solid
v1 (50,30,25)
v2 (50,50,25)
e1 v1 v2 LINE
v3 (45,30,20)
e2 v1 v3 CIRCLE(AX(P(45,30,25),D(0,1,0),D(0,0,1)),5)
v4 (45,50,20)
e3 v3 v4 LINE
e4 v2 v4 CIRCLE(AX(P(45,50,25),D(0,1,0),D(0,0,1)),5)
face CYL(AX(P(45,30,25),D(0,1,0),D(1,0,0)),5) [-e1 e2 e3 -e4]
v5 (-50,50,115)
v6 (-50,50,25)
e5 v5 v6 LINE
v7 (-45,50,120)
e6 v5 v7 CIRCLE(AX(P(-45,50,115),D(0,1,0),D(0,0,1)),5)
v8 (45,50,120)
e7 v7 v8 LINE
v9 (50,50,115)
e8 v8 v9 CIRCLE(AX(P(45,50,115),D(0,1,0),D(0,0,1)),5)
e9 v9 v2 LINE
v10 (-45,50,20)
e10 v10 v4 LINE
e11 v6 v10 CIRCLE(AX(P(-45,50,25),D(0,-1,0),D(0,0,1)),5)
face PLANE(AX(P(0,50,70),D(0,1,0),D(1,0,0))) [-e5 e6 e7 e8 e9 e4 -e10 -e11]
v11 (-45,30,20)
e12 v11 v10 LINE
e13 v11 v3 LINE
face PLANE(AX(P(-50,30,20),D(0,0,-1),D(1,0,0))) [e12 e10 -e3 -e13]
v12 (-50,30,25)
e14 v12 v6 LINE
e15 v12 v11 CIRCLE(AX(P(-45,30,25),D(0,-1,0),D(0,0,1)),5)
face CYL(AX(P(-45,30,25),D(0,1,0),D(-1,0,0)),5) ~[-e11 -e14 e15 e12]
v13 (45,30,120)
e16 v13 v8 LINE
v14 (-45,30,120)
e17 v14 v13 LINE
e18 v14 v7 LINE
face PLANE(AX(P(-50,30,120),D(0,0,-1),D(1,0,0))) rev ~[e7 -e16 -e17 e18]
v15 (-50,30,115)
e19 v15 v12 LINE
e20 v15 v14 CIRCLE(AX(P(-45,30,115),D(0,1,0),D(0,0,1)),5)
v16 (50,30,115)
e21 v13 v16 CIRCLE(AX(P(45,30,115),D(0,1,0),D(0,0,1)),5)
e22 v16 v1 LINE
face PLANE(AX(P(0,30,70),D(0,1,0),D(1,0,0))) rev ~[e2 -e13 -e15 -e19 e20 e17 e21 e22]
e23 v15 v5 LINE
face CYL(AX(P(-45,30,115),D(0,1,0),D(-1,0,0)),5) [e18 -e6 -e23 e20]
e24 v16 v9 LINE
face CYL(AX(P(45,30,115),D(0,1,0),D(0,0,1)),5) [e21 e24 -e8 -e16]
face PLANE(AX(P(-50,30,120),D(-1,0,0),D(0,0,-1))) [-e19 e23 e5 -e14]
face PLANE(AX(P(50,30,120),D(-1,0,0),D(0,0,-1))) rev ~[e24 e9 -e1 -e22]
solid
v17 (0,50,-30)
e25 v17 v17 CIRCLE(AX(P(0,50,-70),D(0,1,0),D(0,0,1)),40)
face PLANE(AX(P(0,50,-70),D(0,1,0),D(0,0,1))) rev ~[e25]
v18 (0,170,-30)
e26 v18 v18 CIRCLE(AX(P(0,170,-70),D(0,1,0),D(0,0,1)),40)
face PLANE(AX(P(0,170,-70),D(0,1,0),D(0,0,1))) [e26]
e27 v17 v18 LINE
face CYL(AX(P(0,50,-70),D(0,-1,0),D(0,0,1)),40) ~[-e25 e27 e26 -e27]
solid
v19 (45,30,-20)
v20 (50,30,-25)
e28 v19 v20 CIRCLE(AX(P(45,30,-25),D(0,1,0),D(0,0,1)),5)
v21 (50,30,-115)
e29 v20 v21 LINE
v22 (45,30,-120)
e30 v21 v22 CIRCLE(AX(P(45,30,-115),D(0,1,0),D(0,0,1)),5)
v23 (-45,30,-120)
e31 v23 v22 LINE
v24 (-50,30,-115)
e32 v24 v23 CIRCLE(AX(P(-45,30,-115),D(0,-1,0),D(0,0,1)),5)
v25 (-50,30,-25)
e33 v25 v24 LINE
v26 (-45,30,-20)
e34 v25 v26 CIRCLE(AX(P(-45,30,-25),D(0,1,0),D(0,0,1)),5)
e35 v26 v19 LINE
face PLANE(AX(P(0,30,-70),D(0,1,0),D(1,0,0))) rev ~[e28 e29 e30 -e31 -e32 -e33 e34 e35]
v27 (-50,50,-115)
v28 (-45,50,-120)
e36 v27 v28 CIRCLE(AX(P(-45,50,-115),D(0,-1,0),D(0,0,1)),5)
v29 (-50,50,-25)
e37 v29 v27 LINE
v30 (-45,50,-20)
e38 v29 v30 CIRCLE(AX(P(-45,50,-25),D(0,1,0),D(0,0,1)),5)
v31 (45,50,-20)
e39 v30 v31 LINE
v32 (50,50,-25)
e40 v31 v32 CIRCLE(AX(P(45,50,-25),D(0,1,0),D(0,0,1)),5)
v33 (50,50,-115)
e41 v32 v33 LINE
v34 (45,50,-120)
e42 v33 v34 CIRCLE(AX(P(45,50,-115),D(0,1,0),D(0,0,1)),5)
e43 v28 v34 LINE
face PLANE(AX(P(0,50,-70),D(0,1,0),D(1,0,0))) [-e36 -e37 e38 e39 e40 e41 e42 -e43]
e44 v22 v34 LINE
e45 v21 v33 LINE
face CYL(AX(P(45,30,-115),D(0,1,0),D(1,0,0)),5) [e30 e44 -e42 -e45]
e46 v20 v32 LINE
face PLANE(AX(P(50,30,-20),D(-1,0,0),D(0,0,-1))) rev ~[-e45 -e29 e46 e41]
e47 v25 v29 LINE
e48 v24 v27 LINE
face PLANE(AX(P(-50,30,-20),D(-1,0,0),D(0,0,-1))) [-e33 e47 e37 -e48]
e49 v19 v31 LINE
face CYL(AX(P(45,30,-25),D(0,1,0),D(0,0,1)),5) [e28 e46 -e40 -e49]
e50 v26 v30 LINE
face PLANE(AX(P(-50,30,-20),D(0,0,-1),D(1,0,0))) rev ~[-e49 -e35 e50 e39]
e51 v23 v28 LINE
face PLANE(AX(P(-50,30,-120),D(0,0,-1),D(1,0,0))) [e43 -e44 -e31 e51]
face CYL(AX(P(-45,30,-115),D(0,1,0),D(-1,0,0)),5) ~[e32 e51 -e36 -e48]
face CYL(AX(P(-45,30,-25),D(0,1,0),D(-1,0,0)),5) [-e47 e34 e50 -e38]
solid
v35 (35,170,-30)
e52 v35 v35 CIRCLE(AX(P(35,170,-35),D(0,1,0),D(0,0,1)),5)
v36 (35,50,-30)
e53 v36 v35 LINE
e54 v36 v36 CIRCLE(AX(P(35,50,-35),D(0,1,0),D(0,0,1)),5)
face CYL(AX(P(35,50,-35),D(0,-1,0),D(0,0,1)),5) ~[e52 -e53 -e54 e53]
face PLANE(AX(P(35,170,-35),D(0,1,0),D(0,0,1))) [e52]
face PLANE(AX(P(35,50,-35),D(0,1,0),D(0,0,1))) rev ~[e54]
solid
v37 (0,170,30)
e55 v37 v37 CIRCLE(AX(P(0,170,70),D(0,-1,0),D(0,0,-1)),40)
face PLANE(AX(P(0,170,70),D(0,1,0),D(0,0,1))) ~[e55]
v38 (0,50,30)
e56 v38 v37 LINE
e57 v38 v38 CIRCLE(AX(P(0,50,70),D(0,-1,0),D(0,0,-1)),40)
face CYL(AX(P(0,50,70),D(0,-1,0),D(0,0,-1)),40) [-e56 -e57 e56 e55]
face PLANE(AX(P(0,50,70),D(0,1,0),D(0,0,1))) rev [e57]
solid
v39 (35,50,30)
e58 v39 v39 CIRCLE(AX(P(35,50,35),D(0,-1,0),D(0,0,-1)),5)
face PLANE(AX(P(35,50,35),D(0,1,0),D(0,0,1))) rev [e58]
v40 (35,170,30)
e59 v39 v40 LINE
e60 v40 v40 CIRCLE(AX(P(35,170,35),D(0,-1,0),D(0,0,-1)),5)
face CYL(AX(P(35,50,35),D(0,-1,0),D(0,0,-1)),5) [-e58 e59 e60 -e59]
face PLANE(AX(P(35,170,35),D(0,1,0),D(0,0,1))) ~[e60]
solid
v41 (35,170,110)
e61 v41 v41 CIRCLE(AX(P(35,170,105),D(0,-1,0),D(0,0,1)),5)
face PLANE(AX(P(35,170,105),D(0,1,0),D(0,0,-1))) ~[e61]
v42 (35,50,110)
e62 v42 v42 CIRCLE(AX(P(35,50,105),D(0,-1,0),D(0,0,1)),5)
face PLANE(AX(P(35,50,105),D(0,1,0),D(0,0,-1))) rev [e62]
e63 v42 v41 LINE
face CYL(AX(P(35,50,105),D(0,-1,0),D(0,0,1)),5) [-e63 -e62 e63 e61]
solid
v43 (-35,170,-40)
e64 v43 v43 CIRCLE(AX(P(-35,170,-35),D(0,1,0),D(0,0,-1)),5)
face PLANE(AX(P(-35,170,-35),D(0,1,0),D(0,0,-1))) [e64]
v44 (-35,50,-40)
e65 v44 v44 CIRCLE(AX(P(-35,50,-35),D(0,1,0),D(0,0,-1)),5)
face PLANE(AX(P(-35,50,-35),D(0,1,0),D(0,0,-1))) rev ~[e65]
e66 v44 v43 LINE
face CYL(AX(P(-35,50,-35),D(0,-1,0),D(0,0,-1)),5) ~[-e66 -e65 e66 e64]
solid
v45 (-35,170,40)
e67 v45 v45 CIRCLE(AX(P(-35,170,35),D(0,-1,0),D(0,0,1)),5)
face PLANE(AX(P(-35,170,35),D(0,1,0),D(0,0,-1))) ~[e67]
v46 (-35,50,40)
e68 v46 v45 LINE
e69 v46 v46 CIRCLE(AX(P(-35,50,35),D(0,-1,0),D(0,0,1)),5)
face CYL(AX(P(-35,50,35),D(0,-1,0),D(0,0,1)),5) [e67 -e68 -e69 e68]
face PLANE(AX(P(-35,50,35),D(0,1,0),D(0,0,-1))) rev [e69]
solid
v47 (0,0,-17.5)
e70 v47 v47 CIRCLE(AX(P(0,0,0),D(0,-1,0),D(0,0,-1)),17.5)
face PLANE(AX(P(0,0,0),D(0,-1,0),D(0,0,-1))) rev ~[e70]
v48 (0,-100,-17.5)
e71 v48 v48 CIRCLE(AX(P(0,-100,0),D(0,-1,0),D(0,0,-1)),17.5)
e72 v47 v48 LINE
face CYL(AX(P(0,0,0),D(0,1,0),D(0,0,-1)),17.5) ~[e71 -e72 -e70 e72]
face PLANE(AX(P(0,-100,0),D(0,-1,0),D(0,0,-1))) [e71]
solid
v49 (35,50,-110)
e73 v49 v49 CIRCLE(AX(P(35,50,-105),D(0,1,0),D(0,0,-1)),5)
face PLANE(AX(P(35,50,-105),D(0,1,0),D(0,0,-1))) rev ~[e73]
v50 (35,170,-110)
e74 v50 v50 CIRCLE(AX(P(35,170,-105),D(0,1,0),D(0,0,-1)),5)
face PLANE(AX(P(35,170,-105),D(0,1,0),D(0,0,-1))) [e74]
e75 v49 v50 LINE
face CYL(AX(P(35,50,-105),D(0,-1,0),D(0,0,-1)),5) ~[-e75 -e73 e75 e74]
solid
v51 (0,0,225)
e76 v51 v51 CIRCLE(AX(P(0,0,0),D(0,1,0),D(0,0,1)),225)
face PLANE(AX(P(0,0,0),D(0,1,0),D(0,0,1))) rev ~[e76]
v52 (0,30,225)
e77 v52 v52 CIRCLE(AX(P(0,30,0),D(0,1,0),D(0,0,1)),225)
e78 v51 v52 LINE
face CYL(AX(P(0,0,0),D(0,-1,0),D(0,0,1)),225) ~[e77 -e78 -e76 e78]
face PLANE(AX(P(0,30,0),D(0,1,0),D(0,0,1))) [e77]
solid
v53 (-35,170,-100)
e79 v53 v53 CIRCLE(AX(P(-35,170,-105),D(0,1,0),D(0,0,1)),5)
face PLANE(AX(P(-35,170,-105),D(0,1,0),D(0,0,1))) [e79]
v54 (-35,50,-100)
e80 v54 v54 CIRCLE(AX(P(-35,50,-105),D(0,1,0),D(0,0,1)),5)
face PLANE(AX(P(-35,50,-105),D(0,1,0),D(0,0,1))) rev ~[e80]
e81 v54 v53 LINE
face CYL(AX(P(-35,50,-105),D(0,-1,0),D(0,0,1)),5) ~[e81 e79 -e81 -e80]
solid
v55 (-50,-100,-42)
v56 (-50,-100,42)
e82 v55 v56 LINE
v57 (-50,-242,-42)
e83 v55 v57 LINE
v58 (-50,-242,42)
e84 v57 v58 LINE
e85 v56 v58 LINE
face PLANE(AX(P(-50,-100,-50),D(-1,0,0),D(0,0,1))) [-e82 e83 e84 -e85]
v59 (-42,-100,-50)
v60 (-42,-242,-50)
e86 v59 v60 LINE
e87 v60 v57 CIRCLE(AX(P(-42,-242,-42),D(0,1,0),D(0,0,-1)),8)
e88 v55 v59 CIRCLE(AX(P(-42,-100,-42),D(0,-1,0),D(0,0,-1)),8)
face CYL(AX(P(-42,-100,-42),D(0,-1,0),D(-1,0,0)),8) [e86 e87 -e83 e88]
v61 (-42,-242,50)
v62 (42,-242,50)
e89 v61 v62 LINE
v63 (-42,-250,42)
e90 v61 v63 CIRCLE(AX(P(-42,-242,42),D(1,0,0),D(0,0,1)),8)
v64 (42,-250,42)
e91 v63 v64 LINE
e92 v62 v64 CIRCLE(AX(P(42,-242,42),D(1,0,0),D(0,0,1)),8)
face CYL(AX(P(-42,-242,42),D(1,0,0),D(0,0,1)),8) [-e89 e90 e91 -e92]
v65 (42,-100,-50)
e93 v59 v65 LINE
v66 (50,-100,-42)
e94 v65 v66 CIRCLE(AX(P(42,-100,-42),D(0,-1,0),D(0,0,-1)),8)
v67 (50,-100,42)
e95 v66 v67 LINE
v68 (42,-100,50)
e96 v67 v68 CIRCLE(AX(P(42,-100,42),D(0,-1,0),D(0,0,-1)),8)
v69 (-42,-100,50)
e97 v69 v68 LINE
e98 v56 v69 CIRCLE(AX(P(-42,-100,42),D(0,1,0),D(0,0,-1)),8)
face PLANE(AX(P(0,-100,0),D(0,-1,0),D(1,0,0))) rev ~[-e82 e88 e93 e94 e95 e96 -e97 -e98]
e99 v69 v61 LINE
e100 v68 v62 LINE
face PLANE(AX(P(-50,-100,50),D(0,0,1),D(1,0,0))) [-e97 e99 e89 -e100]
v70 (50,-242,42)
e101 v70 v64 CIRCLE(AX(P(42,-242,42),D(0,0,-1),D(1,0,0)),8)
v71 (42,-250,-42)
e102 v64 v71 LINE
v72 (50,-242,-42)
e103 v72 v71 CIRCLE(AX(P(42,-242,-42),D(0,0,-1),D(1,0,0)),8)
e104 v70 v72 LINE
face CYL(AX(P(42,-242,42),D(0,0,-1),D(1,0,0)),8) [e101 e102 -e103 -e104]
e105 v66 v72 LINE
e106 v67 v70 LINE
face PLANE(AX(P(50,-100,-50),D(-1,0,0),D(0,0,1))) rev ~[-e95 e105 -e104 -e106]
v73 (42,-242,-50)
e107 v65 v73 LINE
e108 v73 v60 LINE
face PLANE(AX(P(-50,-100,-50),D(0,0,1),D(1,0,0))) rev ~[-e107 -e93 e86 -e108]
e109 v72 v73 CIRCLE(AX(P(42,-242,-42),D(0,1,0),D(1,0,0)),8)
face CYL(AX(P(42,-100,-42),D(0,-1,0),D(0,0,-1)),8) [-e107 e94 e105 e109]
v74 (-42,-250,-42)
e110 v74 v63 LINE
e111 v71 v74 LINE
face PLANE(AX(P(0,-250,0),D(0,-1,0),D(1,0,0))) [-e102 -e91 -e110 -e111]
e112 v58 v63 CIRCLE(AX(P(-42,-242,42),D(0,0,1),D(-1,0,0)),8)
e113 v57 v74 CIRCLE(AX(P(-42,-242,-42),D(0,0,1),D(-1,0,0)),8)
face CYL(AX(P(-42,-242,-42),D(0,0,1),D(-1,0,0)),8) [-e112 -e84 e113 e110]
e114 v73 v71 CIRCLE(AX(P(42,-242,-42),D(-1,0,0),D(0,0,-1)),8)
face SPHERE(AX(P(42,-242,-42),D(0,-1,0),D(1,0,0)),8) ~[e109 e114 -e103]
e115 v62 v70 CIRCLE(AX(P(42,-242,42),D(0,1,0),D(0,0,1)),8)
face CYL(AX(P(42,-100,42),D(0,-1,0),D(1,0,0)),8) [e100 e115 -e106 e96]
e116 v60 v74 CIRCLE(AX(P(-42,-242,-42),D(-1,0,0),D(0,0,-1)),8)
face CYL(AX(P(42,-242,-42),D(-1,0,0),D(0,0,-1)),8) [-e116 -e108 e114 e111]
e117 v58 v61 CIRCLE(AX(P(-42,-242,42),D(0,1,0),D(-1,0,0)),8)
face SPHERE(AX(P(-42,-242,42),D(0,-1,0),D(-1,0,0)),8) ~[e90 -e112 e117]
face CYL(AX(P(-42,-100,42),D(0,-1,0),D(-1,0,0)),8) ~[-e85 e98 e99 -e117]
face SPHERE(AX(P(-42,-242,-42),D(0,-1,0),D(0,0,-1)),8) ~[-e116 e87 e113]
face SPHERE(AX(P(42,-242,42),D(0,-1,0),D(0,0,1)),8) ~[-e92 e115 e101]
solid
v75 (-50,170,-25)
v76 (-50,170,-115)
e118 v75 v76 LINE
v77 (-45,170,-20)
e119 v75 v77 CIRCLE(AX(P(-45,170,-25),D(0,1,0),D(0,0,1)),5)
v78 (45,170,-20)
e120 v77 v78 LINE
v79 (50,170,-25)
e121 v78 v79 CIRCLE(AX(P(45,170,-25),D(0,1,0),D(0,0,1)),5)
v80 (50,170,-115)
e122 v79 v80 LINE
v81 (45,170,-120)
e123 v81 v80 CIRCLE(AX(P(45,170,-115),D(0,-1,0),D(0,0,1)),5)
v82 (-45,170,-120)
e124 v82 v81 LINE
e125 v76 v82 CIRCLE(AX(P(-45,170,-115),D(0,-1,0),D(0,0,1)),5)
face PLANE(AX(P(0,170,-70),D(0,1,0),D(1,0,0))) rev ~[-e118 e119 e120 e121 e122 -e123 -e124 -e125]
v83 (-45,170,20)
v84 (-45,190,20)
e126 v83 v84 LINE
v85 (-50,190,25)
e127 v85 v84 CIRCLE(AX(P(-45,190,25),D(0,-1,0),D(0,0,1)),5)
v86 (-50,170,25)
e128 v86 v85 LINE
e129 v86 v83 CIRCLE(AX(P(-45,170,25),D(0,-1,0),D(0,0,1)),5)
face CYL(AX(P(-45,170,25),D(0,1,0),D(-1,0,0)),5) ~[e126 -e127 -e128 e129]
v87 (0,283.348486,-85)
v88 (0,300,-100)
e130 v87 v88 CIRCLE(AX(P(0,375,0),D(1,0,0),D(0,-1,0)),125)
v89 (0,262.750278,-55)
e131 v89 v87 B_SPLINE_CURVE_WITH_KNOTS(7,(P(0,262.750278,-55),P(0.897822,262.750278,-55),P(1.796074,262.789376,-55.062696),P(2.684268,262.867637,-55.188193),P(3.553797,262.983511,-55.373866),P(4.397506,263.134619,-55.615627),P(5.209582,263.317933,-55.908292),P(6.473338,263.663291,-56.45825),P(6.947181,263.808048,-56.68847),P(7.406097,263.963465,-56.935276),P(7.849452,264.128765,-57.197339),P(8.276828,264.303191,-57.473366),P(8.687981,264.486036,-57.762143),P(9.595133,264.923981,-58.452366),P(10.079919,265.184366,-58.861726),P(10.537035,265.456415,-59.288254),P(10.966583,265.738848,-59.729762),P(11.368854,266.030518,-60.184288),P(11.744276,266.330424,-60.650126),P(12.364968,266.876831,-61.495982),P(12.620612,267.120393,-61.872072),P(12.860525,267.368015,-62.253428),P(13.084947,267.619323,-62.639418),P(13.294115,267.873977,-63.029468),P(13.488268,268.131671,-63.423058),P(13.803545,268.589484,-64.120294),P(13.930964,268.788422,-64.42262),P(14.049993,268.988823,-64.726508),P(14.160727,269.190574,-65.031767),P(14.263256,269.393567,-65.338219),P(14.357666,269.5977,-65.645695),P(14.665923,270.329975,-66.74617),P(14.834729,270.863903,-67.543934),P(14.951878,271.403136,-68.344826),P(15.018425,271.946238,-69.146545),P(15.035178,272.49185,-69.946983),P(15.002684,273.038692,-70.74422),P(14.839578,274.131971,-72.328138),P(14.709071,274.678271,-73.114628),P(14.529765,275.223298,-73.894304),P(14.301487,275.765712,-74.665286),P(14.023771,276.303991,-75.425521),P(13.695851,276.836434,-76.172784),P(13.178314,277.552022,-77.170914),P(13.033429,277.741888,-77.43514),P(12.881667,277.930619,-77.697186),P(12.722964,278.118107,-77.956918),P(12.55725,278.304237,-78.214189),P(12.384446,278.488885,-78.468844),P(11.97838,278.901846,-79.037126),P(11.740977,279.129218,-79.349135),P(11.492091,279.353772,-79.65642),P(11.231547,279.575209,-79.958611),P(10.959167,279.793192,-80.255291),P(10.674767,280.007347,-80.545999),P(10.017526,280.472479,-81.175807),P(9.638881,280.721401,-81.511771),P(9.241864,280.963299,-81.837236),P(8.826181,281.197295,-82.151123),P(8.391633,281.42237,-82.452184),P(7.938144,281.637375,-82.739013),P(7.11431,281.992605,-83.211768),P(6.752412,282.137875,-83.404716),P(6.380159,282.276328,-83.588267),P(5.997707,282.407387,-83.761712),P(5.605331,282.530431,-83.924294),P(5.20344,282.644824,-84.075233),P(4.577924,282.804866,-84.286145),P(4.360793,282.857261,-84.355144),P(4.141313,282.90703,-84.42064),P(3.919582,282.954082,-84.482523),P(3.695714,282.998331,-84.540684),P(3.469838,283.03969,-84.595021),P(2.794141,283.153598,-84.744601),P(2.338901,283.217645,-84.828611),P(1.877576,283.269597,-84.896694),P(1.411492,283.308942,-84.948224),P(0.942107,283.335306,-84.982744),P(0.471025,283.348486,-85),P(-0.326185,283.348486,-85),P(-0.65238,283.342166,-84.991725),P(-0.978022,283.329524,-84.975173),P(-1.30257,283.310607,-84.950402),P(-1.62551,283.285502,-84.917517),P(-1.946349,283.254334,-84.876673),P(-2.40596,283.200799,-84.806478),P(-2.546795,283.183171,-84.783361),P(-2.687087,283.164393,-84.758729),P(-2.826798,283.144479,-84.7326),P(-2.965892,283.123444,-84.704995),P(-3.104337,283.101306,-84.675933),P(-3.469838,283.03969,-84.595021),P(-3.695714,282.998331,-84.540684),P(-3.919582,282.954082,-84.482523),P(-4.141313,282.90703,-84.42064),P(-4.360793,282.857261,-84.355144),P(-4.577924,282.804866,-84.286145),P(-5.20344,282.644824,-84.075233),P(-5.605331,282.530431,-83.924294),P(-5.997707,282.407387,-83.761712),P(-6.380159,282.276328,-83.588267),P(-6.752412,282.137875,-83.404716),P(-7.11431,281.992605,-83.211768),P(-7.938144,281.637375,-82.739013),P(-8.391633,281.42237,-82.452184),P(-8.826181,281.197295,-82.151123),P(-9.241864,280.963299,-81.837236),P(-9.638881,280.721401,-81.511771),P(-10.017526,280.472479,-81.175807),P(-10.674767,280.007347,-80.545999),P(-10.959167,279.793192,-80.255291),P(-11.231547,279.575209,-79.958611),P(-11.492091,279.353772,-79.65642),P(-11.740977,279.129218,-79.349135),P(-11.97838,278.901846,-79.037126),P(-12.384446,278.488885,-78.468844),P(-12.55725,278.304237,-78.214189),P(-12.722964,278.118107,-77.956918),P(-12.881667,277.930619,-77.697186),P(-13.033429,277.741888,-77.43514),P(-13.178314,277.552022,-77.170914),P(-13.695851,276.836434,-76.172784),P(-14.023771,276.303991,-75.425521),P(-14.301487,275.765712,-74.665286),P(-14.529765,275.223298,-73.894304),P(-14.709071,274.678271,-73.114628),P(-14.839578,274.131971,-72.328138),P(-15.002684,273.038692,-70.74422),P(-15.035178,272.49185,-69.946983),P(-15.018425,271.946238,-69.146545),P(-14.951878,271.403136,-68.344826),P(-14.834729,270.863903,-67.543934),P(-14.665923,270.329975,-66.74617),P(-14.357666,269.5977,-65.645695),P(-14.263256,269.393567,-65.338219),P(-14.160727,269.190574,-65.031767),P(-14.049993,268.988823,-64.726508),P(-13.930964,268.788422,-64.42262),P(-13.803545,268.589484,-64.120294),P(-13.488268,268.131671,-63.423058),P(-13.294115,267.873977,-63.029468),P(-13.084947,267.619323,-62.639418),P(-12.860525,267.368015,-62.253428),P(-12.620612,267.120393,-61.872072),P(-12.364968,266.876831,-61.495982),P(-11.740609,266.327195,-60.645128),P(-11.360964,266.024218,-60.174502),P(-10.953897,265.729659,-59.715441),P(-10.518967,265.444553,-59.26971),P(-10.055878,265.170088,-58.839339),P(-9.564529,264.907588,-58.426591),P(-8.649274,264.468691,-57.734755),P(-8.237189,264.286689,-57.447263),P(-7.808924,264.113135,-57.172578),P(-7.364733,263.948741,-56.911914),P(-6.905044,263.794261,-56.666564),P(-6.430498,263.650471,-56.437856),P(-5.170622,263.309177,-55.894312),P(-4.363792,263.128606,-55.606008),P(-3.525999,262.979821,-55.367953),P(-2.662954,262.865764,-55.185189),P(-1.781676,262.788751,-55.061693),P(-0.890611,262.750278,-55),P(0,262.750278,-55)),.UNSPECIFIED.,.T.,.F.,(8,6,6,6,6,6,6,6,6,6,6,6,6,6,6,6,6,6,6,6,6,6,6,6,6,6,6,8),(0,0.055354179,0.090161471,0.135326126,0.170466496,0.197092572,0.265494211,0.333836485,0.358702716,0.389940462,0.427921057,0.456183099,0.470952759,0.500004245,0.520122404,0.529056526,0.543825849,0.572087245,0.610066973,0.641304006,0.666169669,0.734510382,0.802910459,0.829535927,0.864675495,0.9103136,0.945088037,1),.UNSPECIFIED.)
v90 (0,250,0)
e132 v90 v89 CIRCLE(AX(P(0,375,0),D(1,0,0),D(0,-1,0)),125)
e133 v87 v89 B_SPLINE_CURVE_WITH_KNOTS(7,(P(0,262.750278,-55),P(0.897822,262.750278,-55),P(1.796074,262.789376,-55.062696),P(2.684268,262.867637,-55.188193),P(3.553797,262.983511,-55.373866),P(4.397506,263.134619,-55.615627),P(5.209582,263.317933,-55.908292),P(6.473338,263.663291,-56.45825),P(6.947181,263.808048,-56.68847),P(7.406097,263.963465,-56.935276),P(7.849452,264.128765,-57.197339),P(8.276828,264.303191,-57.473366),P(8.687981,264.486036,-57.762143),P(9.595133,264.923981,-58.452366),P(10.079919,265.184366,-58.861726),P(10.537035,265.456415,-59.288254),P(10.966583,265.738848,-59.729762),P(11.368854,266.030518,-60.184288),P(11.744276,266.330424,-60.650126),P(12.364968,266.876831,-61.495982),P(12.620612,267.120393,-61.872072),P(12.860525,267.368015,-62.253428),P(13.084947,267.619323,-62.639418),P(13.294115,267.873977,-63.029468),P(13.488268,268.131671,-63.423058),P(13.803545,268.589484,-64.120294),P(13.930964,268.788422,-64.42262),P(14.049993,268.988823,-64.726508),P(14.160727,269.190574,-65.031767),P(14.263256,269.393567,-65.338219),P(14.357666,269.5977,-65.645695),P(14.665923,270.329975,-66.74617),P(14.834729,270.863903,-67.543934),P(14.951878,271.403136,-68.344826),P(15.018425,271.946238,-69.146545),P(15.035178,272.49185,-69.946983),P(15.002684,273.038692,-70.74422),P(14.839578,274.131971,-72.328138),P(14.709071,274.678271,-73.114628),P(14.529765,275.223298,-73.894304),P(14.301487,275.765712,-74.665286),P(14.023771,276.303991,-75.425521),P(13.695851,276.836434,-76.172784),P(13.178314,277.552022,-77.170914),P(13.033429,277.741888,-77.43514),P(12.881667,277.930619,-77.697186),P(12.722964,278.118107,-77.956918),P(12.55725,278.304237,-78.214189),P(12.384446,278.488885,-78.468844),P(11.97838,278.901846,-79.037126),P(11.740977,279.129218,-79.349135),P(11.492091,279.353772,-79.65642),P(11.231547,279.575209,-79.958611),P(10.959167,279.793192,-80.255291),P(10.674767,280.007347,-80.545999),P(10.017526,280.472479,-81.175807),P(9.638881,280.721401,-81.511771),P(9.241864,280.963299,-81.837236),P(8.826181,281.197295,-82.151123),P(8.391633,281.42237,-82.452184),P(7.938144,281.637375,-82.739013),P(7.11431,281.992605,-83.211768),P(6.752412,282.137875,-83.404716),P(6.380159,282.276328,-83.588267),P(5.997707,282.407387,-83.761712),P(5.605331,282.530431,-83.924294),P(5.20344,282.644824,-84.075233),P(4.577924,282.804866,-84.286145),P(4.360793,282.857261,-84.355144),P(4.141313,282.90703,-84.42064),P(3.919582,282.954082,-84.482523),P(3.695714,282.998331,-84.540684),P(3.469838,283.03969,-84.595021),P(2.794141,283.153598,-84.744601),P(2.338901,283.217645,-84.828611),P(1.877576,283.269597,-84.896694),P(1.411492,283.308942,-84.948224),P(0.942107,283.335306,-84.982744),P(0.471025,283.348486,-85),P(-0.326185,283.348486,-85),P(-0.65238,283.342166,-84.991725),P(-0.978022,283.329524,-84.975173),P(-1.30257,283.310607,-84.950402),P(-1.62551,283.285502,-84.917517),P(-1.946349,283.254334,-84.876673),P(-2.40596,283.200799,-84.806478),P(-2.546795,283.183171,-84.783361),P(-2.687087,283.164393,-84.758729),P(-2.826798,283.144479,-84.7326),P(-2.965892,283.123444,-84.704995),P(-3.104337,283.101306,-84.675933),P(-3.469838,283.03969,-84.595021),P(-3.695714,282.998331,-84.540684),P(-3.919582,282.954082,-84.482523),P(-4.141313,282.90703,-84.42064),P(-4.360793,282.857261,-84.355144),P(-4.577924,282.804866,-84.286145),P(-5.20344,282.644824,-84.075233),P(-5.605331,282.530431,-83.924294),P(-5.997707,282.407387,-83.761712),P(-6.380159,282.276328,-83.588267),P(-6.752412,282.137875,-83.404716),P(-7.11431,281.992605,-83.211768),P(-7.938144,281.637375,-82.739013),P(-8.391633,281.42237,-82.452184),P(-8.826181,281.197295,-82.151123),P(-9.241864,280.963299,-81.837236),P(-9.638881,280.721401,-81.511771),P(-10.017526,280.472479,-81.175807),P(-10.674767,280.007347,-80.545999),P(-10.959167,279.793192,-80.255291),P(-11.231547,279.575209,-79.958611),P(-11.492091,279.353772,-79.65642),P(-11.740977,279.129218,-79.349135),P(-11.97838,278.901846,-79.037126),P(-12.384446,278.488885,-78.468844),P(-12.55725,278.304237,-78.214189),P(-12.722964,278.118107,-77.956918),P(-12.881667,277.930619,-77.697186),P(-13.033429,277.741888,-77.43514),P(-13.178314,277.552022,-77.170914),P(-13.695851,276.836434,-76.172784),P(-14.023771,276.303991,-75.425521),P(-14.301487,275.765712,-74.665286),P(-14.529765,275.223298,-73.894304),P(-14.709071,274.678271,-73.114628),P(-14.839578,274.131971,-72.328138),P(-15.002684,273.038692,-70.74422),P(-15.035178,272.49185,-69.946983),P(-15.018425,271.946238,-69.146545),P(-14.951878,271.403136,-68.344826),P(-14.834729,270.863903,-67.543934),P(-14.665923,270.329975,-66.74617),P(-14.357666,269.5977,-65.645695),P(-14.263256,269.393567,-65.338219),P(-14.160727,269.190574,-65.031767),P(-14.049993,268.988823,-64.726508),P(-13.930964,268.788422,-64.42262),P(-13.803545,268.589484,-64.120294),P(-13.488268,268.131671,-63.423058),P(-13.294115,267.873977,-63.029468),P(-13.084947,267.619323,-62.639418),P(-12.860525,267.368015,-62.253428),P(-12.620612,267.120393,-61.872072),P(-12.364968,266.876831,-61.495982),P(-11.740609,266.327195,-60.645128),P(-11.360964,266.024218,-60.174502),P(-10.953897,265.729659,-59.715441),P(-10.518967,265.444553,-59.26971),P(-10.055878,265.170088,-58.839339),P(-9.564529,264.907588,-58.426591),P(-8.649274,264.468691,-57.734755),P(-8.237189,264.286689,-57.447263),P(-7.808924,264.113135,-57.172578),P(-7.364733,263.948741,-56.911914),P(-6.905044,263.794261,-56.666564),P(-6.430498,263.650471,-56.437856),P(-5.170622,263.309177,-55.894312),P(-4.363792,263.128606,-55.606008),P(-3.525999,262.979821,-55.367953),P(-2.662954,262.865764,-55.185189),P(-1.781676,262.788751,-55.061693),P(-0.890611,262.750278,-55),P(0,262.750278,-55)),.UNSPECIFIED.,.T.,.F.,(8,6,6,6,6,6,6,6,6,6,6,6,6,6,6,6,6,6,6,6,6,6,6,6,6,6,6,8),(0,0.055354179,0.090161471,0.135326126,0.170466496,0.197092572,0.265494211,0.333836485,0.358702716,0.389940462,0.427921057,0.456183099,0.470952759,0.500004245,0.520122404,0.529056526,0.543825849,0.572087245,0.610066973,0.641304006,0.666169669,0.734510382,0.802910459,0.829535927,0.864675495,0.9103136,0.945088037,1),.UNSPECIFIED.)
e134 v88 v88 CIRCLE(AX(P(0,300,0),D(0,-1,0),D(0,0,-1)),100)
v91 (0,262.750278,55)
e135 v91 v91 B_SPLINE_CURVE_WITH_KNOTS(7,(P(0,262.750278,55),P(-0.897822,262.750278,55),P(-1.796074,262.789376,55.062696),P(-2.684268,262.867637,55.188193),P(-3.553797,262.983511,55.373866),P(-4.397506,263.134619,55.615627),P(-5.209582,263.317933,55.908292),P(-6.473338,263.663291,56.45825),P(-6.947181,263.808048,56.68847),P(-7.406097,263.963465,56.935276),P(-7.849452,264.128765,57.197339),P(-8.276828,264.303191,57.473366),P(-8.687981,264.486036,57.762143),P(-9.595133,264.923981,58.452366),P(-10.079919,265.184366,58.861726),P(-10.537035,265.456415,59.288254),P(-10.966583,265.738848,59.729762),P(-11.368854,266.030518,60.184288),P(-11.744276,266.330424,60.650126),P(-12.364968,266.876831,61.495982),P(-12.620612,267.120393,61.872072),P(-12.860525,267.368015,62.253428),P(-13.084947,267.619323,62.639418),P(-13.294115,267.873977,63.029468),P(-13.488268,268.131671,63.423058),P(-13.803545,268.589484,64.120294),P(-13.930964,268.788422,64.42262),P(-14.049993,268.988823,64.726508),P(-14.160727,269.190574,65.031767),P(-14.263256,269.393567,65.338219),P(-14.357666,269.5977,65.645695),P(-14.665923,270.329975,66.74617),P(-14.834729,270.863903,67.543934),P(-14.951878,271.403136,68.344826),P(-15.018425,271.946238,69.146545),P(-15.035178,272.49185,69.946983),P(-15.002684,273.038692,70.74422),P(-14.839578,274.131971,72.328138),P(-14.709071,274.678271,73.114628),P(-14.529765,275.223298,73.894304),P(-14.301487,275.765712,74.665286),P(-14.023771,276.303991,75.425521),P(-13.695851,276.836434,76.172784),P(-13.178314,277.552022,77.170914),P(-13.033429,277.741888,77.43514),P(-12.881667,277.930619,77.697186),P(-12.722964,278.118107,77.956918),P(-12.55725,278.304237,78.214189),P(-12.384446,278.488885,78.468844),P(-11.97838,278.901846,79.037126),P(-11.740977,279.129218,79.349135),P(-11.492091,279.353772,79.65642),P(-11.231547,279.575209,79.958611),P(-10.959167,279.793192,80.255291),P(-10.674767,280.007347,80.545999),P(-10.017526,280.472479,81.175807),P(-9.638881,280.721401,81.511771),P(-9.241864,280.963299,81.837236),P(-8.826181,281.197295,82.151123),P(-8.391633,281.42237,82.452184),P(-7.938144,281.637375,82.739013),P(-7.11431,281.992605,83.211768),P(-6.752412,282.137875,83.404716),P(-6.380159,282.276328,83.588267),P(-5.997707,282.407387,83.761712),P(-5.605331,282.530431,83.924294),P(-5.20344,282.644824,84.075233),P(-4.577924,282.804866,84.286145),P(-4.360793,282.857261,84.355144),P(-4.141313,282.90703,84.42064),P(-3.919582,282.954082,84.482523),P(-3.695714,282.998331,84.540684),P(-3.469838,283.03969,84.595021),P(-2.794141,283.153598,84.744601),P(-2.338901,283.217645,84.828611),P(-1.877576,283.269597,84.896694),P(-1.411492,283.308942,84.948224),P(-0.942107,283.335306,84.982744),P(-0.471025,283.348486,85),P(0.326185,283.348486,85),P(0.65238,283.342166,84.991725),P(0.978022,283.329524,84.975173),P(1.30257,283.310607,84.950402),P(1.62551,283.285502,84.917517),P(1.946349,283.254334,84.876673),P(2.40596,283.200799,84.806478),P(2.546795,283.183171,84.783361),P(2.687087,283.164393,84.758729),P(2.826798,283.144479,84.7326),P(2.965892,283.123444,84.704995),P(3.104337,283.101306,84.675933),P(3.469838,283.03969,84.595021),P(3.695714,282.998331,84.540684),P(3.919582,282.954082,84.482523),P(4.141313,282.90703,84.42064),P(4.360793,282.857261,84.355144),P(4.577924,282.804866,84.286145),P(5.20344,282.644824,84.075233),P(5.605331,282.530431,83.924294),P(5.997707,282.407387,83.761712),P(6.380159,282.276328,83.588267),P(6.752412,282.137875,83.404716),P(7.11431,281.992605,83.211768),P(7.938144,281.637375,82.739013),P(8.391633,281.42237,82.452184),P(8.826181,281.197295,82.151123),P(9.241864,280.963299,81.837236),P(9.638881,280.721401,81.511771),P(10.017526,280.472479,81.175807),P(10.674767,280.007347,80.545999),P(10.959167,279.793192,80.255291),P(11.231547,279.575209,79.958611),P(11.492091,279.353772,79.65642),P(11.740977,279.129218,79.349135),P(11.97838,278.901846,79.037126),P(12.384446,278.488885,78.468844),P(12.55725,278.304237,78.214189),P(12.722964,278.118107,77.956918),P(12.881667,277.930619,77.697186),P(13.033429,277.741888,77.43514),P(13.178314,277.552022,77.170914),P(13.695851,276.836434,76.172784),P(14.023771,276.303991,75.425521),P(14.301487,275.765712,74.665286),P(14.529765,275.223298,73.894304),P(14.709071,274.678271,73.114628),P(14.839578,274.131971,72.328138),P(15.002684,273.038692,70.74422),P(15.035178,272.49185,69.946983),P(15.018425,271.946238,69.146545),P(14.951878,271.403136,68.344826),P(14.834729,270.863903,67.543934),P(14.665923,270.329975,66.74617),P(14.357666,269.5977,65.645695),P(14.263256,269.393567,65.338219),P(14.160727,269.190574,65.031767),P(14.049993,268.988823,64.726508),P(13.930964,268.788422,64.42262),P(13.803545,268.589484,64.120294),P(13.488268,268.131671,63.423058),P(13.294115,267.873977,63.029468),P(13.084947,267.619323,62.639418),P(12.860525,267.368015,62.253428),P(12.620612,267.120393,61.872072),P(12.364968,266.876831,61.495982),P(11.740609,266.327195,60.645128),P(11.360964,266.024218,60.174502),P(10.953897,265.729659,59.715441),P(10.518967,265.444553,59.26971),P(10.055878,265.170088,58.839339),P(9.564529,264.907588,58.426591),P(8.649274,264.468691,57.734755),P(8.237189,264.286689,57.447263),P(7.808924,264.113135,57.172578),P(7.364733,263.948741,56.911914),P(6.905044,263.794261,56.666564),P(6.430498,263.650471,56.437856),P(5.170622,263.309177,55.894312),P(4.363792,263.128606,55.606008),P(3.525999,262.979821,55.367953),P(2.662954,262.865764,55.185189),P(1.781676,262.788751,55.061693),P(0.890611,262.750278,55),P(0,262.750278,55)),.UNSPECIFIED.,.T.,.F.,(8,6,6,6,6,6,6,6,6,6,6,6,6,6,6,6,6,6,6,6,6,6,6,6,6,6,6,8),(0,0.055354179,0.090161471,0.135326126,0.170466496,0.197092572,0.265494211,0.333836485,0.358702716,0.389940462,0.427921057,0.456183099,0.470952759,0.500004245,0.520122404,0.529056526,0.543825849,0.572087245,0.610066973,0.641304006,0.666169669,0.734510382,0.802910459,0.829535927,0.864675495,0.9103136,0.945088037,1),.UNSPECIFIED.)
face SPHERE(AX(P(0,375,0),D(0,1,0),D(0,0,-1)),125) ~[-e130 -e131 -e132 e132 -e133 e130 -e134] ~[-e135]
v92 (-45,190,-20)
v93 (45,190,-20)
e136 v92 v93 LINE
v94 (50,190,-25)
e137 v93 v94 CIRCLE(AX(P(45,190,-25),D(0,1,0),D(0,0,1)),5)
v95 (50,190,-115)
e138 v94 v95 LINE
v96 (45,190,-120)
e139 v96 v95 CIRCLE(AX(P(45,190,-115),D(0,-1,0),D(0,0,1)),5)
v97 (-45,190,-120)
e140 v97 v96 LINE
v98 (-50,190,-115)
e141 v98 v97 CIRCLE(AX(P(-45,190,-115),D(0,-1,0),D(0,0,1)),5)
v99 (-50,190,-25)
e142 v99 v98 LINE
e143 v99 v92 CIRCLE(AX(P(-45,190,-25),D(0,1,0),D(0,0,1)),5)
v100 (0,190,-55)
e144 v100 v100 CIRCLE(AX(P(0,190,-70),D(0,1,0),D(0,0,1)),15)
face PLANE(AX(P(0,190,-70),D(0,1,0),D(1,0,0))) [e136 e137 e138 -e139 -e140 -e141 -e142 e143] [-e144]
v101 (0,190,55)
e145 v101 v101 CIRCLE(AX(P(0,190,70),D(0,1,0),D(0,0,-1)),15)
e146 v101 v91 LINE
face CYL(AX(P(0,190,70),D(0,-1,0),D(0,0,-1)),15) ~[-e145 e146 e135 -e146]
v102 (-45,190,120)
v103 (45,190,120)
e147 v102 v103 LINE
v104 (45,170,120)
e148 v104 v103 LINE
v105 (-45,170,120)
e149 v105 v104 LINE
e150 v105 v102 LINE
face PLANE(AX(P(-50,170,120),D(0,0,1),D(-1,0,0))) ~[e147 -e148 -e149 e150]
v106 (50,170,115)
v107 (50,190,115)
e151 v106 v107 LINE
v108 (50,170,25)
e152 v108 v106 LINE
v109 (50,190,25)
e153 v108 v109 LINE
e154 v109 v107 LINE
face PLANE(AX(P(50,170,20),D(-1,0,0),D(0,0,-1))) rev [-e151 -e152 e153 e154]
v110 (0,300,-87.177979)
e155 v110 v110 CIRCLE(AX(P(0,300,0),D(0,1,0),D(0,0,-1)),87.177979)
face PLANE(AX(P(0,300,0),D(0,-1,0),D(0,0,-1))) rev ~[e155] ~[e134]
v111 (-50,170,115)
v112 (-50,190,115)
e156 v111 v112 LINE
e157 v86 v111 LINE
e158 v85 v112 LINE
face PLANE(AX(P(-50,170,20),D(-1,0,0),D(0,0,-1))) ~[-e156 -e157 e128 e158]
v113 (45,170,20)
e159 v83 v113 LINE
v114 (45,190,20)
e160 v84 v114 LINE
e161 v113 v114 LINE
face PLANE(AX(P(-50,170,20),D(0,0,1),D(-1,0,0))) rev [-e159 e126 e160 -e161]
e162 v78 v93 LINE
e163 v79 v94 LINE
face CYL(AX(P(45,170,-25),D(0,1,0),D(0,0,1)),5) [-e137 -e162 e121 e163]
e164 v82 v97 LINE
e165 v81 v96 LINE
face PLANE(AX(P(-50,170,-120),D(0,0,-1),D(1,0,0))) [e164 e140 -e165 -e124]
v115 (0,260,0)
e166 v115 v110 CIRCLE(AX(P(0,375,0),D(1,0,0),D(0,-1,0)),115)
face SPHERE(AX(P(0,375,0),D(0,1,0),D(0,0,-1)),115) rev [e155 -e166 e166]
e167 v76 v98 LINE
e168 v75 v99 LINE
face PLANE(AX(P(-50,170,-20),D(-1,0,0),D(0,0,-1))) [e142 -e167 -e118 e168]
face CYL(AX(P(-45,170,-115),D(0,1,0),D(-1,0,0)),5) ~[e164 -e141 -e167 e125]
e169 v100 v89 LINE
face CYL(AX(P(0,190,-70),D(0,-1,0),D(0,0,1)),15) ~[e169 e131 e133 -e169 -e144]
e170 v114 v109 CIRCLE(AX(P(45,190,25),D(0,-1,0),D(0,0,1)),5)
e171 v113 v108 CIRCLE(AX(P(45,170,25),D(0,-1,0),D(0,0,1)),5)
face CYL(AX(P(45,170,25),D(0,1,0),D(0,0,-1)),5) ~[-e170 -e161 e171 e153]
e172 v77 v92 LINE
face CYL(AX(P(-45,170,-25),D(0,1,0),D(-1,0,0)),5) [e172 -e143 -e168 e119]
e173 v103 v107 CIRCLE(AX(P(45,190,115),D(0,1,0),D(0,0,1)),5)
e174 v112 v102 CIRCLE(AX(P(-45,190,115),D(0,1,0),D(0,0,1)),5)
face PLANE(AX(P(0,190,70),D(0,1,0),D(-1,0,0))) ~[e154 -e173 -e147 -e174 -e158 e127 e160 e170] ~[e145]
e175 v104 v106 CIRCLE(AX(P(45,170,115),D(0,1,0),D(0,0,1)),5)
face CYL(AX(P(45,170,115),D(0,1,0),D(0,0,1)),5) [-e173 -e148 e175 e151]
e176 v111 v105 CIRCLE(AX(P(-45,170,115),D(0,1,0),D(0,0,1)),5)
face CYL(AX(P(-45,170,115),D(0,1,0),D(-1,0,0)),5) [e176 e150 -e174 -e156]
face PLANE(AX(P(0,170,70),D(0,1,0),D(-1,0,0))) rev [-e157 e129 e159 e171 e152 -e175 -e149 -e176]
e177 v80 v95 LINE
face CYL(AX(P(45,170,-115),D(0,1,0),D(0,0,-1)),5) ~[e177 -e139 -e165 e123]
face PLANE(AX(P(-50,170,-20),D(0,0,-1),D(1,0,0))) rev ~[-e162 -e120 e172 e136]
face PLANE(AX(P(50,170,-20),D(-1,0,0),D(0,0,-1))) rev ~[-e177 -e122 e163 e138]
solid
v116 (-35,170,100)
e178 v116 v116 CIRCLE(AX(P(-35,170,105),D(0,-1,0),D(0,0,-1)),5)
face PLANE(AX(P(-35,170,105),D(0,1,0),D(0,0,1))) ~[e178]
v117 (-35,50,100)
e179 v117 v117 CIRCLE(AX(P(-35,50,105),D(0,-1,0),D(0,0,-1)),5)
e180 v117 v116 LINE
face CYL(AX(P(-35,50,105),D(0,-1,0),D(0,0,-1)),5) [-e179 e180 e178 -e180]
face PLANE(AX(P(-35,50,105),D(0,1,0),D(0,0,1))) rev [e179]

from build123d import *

# Parameters (mm, degrees)
SKETCH1_R                = 225
BOSS_EXTRUDE1_DEPTH      = 30
SHELL1_T                 = -10
SKETCH8_W                = 100
SKETCH8_H                = 100
BOSS_EXTRUDE2_DEPTH      = 20
BOSS_EXTRUDE2_2_DEPTH    = 20
SKETCH9_R                = 17.5
BOSS_EXTRUDE3_DEPTH      = 100
SKETCH11_W               = 100
SKETCH11_H               = 100
BOSS_EXTRUDE4_DEPTH      = 150
FILLET1_R                = 8
FILLET2_R                = 8
SKETCH14_R               = 40
BOSS_EXTRUDE6_DEPTH      = 120
SKETCH15_W               = 100
SKETCH15_H               = 100
BOSS_EXTRUDE7_DEPTH      = 20
BOSS_EXTRUDE8_REACH      = 545.001
BOSS_EXTRUDE8_END_RADIUS = 125
SKETCH16_R               = 15
FILLET3_R                = 5
FILLET4_R                = 5
FILLET5_R                = 5
SKETCH17_R               = 5
BOSS_EXTRUDE9_DEPTH      = 120
BOSS_EXTRUDE9_2_DEPTH    = 120
BOSS_EXTRUDE9_3_DEPTH    = 120
BOSS_EXTRUDE9_4_DEPTH    = 120


with BuildPart() as part:
    # Sketch1 → Boss-Extrude1 (new body)
    with BuildSketch(Plane(origin=(0, 0, 0), x_dir=(1, 0, 0), z_dir=(0, 1, 0))):
        with Locations(Location((0, 0, 0), (0, 0, 270))):
            Circle(SKETCH1_R)
    extrude(amount=BOSS_EXTRUDE1_DEPTH)


with BuildPart() as body_2:
    # Sketch7 → Revolve1 (revolve)
    with BuildSketch(Plane(origin=(0, 0, 0), x_dir=(0, 0, -1), z_dir=(1, 0, 0))):
        with BuildLine():
            Line((100, 300), (0, 300))
            Line((0, 300), (0, 250))
            ThreePointArc((0, 250), (55.901699437, 263.196601125), (100, 300))
        make_face()
    revolve(axis=Axis((0, 300, 0), (0, -1, 0)))

    # Shell1
    shell1_openings = [body_2.faces().sort_by_distance(p)[0] for p in [
        (0, 300, 0),
    ]]
    offset(amount=SHELL1_T, openings=shell1_openings, kind=Kind.INTERSECTION)



with BuildPart() as body_3:
    # Sketch8 → Boss-Extrude2 (new body)
    with BuildSketch(Plane(origin=(0, 30, 0), x_dir=(1, 0, 0), z_dir=(0, 1, 0))):
        with Locations((0, 70)):
            Rectangle(SKETCH8_W, SKETCH8_H)
    extrude(amount=BOSS_EXTRUDE2_DEPTH)

    # Fillet4
    fillet4_edges = [body_3.edges().sort_by_distance(p)[0] for p in [
        (50, 40, -20),
        (-50, 40, -20),
        (-50, 40, -120),
        (50, 40, -120),
    ]]
    fillet(fillet4_edges, radius=FILLET4_R)


with BuildPart() as body_4:
    # Sketch8 → Boss-Extrude2 2 (new body)
    with BuildSketch(Plane(origin=(0, 30, 0), x_dir=(1, 0, 0), z_dir=(0, 1, 0))):
        with Locations((0, -70)):
            Rectangle(SKETCH8_W, SKETCH8_H)
    extrude(amount=BOSS_EXTRUDE2_2_DEPTH)

    # Fillet5
    fillet5_edges = [body_4.edges().sort_by_distance(p)[0] for p in [
        (-50, 40, 20),
        (50, 40, 20),
        (50, 40, 120),
        (-50, 40, 120),
    ]]
    fillet(fillet5_edges, radius=FILLET5_R)


with BuildPart() as body_5:
    # Sketch9 → Boss-Extrude3 (new body)
    with BuildSketch(Plane.XZ):
        with Locations(Location((0, 0, 0), (0, 0, 270))):
            Circle(SKETCH9_R)
    extrude(amount=BOSS_EXTRUDE3_DEPTH)


with BuildPart() as body_6:
    # Sketch11 → Boss-Extrude4 (new body)
    with BuildSketch(Plane.XZ.offset(100)):
        Rectangle(SKETCH11_W, SKETCH11_H)
    extrude(amount=BOSS_EXTRUDE4_DEPTH)

    # Fillet1
    fillet1_edges = [body_6.edges().sort_by_distance(p)[0] for p in [
        (50, -175, -50),
        (-50, -175, -50),
        (-50, -175, 50),
        (50, -175, 50),
    ]]
    fillet(fillet1_edges, radius=FILLET1_R)

    # Fillet2
    fillet2_edges = [body_6.edges().sort_by_distance(p)[0] for p in [
        (-50, -250, 0),
        (0, -250, 50),
        (50, -250, 0),
        (0, -250, -50),
        (47.656854249, -250, 47.656854249),
        (47.656854249, -250, -47.656854249),
        (-47.656854249, -250, -47.656854249),
        (-47.656854249, -250, 47.656854249),
    ]]
    fillet(fillet2_edges, radius=FILLET2_R)


with BuildPart() as body_7:
    # Sketch14 → Boss-Extrude6 (new body)
    with BuildSketch(Plane(origin=(0, 50, 0), x_dir=(1, 0, 0), z_dir=(0, 1, 0))):
        with Locations(Location((0, 70, 0), (0, 0, 270))):
            Circle(SKETCH14_R)
    extrude(amount=BOSS_EXTRUDE6_DEPTH)


with BuildPart() as body_8:
    # Sketch15 → Boss-Extrude7 (new body)
    with BuildSketch(Plane(origin=(0, 170, 0), x_dir=(1, 0, 0), z_dir=(0, 1, 0))):
        with Locations((0, 70)):
            Rectangle(SKETCH15_W, SKETCH15_H)
    extrude(amount=BOSS_EXTRUDE7_DEPTH)


with BuildPart() as body_9:
    # Mirror1: mirrored copy
    add(body_8.part.mirror(Plane.XY))


with BuildPart() as body_10:
    # Mirror1 2: mirrored copy
    add(body_7.part.mirror(Plane.XY))


with BuildPart() as body_2_1:
    add(body_2.part)

    add(body_8.part)  # Boss-Extrude8 merges body 8

    add(body_9.part)  # Boss-Extrude8 merges body 9
    # Boss-Extrude8: up to this sphere (the profile starts outside it)
    boss_extrude8_end = Location((0, 375, 0)) * Sphere(BOSS_EXTRUDE8_END_RADIUS, mode=Mode.PRIVATE)
    # Sketch16 → Boss-Extrude8 (add, up to the surface)
    with BuildSketch(Plane(origin=(0, 190, 0), x_dir=(1, 0, 0), z_dir=(0, 1, 0)), mode=Mode.PRIVATE) as boss_extrude8_sk1:
        with Locations(Location((0, 70, 0), (0, 0, 270))):
            Circle(SKETCH16_R)
    boss_extrude8_tool1 = extrude(boss_extrude8_sk1.sketch, amount=BOSS_EXTRUDE8_REACH, mode=Mode.PRIVATE) - boss_extrude8_end
    add(boss_extrude8_tool1.solids().sort_by_distance((0, 190, -70))[0])
    # Sketch16 → Boss-Extrude8 (add, up to the surface)
    with BuildSketch(Plane(origin=(0, 190, 0), x_dir=(1, 0, 0), z_dir=(0, 1, 0)), mode=Mode.PRIVATE) as boss_extrude8_sk2:
        with Locations(Location((0, -70, 0), (0, 0, 90))):
            Circle(SKETCH16_R)
    boss_extrude8_tool2 = extrude(boss_extrude8_sk2.sketch, amount=BOSS_EXTRUDE8_REACH, mode=Mode.PRIVATE) - boss_extrude8_end
    add(boss_extrude8_tool2.solids().sort_by_distance((0, 190, 70))[0])

    # Fillet3
    fillet3_edges = [body_2_1.edges().sort_by_distance(p)[0] for p in [
        (-50, 180, -120),
        (-50, 180, -20),
        (50, 180, -20),
        (50, 180, -120),
        (-50, 180, 20),
        (50, 180, 20),
        (50, 180, 120),
        (-50, 180, 120),
    ]]
    fillet(fillet3_edges, radius=FILLET3_R)


with BuildPart() as body_9_2:
    # Sketch17 → Boss-Extrude9 (new body)
    with BuildSketch(Plane(origin=(0, 50, 0), x_dir=(1, 0, 0), z_dir=(0, 1, 0))):
        with Locations(Location((-35, 105, 0), (0, 0, 270))):
            Circle(SKETCH17_R)
    extrude(amount=BOSS_EXTRUDE9_DEPTH)


with BuildPart() as body_10_2:
    # Sketch17 → Boss-Extrude9 2 (new body)
    with BuildSketch(Plane(origin=(0, 50, 0), x_dir=(1, 0, 0), z_dir=(0, 1, 0))):
        with Locations(Location((35, 105, 0), (0, 0, 90))):
            Circle(SKETCH17_R)
    extrude(amount=BOSS_EXTRUDE9_2_DEPTH)


with BuildPart() as body_11:
    # Sketch17 → Boss-Extrude9 3 (new body)
    with BuildSketch(Plane(origin=(0, 50, 0), x_dir=(1, 0, 0), z_dir=(0, 1, 0))):
        with Locations(Location((35, 35, 0), (0, 0, 270))):
            Circle(SKETCH17_R)
    extrude(amount=BOSS_EXTRUDE9_3_DEPTH)


with BuildPart() as body_12:
    # Sketch17 → Boss-Extrude9 4 (new body)
    with BuildSketch(Plane(origin=(0, 50, 0), x_dir=(1, 0, 0), z_dir=(0, 1, 0))):
        with Locations(Location((-35, 35, 0), (0, 0, 90))):
            Circle(SKETCH17_R)
    extrude(amount=BOSS_EXTRUDE9_4_DEPTH)


with BuildPart() as body_13:
    # Mirror3: mirrored copy
    add(body_9_2.part.mirror(Plane.XY))


with BuildPart() as body_14:
    # Mirror3 2: mirrored copy
    add(body_12.part.mirror(Plane.XY))


with BuildPart() as body_15:
    # Mirror3 3: mirrored copy
    add(body_11.part.mirror(Plane.XY))


with BuildPart() as body_16:
    # Mirror3 4: mirrored copy
    add(body_10_2.part.mirror(Plane.XY))


solid = Compound([part.part, body_3.part, body_4.part, body_5.part, body_6.part, body_7.part, body_10.part, body_2_1.part, body_9_2.part, body_10_2.part, body_11.part, body_12.part, body_13.part, body_14.part, body_15.part, body_16.part])
